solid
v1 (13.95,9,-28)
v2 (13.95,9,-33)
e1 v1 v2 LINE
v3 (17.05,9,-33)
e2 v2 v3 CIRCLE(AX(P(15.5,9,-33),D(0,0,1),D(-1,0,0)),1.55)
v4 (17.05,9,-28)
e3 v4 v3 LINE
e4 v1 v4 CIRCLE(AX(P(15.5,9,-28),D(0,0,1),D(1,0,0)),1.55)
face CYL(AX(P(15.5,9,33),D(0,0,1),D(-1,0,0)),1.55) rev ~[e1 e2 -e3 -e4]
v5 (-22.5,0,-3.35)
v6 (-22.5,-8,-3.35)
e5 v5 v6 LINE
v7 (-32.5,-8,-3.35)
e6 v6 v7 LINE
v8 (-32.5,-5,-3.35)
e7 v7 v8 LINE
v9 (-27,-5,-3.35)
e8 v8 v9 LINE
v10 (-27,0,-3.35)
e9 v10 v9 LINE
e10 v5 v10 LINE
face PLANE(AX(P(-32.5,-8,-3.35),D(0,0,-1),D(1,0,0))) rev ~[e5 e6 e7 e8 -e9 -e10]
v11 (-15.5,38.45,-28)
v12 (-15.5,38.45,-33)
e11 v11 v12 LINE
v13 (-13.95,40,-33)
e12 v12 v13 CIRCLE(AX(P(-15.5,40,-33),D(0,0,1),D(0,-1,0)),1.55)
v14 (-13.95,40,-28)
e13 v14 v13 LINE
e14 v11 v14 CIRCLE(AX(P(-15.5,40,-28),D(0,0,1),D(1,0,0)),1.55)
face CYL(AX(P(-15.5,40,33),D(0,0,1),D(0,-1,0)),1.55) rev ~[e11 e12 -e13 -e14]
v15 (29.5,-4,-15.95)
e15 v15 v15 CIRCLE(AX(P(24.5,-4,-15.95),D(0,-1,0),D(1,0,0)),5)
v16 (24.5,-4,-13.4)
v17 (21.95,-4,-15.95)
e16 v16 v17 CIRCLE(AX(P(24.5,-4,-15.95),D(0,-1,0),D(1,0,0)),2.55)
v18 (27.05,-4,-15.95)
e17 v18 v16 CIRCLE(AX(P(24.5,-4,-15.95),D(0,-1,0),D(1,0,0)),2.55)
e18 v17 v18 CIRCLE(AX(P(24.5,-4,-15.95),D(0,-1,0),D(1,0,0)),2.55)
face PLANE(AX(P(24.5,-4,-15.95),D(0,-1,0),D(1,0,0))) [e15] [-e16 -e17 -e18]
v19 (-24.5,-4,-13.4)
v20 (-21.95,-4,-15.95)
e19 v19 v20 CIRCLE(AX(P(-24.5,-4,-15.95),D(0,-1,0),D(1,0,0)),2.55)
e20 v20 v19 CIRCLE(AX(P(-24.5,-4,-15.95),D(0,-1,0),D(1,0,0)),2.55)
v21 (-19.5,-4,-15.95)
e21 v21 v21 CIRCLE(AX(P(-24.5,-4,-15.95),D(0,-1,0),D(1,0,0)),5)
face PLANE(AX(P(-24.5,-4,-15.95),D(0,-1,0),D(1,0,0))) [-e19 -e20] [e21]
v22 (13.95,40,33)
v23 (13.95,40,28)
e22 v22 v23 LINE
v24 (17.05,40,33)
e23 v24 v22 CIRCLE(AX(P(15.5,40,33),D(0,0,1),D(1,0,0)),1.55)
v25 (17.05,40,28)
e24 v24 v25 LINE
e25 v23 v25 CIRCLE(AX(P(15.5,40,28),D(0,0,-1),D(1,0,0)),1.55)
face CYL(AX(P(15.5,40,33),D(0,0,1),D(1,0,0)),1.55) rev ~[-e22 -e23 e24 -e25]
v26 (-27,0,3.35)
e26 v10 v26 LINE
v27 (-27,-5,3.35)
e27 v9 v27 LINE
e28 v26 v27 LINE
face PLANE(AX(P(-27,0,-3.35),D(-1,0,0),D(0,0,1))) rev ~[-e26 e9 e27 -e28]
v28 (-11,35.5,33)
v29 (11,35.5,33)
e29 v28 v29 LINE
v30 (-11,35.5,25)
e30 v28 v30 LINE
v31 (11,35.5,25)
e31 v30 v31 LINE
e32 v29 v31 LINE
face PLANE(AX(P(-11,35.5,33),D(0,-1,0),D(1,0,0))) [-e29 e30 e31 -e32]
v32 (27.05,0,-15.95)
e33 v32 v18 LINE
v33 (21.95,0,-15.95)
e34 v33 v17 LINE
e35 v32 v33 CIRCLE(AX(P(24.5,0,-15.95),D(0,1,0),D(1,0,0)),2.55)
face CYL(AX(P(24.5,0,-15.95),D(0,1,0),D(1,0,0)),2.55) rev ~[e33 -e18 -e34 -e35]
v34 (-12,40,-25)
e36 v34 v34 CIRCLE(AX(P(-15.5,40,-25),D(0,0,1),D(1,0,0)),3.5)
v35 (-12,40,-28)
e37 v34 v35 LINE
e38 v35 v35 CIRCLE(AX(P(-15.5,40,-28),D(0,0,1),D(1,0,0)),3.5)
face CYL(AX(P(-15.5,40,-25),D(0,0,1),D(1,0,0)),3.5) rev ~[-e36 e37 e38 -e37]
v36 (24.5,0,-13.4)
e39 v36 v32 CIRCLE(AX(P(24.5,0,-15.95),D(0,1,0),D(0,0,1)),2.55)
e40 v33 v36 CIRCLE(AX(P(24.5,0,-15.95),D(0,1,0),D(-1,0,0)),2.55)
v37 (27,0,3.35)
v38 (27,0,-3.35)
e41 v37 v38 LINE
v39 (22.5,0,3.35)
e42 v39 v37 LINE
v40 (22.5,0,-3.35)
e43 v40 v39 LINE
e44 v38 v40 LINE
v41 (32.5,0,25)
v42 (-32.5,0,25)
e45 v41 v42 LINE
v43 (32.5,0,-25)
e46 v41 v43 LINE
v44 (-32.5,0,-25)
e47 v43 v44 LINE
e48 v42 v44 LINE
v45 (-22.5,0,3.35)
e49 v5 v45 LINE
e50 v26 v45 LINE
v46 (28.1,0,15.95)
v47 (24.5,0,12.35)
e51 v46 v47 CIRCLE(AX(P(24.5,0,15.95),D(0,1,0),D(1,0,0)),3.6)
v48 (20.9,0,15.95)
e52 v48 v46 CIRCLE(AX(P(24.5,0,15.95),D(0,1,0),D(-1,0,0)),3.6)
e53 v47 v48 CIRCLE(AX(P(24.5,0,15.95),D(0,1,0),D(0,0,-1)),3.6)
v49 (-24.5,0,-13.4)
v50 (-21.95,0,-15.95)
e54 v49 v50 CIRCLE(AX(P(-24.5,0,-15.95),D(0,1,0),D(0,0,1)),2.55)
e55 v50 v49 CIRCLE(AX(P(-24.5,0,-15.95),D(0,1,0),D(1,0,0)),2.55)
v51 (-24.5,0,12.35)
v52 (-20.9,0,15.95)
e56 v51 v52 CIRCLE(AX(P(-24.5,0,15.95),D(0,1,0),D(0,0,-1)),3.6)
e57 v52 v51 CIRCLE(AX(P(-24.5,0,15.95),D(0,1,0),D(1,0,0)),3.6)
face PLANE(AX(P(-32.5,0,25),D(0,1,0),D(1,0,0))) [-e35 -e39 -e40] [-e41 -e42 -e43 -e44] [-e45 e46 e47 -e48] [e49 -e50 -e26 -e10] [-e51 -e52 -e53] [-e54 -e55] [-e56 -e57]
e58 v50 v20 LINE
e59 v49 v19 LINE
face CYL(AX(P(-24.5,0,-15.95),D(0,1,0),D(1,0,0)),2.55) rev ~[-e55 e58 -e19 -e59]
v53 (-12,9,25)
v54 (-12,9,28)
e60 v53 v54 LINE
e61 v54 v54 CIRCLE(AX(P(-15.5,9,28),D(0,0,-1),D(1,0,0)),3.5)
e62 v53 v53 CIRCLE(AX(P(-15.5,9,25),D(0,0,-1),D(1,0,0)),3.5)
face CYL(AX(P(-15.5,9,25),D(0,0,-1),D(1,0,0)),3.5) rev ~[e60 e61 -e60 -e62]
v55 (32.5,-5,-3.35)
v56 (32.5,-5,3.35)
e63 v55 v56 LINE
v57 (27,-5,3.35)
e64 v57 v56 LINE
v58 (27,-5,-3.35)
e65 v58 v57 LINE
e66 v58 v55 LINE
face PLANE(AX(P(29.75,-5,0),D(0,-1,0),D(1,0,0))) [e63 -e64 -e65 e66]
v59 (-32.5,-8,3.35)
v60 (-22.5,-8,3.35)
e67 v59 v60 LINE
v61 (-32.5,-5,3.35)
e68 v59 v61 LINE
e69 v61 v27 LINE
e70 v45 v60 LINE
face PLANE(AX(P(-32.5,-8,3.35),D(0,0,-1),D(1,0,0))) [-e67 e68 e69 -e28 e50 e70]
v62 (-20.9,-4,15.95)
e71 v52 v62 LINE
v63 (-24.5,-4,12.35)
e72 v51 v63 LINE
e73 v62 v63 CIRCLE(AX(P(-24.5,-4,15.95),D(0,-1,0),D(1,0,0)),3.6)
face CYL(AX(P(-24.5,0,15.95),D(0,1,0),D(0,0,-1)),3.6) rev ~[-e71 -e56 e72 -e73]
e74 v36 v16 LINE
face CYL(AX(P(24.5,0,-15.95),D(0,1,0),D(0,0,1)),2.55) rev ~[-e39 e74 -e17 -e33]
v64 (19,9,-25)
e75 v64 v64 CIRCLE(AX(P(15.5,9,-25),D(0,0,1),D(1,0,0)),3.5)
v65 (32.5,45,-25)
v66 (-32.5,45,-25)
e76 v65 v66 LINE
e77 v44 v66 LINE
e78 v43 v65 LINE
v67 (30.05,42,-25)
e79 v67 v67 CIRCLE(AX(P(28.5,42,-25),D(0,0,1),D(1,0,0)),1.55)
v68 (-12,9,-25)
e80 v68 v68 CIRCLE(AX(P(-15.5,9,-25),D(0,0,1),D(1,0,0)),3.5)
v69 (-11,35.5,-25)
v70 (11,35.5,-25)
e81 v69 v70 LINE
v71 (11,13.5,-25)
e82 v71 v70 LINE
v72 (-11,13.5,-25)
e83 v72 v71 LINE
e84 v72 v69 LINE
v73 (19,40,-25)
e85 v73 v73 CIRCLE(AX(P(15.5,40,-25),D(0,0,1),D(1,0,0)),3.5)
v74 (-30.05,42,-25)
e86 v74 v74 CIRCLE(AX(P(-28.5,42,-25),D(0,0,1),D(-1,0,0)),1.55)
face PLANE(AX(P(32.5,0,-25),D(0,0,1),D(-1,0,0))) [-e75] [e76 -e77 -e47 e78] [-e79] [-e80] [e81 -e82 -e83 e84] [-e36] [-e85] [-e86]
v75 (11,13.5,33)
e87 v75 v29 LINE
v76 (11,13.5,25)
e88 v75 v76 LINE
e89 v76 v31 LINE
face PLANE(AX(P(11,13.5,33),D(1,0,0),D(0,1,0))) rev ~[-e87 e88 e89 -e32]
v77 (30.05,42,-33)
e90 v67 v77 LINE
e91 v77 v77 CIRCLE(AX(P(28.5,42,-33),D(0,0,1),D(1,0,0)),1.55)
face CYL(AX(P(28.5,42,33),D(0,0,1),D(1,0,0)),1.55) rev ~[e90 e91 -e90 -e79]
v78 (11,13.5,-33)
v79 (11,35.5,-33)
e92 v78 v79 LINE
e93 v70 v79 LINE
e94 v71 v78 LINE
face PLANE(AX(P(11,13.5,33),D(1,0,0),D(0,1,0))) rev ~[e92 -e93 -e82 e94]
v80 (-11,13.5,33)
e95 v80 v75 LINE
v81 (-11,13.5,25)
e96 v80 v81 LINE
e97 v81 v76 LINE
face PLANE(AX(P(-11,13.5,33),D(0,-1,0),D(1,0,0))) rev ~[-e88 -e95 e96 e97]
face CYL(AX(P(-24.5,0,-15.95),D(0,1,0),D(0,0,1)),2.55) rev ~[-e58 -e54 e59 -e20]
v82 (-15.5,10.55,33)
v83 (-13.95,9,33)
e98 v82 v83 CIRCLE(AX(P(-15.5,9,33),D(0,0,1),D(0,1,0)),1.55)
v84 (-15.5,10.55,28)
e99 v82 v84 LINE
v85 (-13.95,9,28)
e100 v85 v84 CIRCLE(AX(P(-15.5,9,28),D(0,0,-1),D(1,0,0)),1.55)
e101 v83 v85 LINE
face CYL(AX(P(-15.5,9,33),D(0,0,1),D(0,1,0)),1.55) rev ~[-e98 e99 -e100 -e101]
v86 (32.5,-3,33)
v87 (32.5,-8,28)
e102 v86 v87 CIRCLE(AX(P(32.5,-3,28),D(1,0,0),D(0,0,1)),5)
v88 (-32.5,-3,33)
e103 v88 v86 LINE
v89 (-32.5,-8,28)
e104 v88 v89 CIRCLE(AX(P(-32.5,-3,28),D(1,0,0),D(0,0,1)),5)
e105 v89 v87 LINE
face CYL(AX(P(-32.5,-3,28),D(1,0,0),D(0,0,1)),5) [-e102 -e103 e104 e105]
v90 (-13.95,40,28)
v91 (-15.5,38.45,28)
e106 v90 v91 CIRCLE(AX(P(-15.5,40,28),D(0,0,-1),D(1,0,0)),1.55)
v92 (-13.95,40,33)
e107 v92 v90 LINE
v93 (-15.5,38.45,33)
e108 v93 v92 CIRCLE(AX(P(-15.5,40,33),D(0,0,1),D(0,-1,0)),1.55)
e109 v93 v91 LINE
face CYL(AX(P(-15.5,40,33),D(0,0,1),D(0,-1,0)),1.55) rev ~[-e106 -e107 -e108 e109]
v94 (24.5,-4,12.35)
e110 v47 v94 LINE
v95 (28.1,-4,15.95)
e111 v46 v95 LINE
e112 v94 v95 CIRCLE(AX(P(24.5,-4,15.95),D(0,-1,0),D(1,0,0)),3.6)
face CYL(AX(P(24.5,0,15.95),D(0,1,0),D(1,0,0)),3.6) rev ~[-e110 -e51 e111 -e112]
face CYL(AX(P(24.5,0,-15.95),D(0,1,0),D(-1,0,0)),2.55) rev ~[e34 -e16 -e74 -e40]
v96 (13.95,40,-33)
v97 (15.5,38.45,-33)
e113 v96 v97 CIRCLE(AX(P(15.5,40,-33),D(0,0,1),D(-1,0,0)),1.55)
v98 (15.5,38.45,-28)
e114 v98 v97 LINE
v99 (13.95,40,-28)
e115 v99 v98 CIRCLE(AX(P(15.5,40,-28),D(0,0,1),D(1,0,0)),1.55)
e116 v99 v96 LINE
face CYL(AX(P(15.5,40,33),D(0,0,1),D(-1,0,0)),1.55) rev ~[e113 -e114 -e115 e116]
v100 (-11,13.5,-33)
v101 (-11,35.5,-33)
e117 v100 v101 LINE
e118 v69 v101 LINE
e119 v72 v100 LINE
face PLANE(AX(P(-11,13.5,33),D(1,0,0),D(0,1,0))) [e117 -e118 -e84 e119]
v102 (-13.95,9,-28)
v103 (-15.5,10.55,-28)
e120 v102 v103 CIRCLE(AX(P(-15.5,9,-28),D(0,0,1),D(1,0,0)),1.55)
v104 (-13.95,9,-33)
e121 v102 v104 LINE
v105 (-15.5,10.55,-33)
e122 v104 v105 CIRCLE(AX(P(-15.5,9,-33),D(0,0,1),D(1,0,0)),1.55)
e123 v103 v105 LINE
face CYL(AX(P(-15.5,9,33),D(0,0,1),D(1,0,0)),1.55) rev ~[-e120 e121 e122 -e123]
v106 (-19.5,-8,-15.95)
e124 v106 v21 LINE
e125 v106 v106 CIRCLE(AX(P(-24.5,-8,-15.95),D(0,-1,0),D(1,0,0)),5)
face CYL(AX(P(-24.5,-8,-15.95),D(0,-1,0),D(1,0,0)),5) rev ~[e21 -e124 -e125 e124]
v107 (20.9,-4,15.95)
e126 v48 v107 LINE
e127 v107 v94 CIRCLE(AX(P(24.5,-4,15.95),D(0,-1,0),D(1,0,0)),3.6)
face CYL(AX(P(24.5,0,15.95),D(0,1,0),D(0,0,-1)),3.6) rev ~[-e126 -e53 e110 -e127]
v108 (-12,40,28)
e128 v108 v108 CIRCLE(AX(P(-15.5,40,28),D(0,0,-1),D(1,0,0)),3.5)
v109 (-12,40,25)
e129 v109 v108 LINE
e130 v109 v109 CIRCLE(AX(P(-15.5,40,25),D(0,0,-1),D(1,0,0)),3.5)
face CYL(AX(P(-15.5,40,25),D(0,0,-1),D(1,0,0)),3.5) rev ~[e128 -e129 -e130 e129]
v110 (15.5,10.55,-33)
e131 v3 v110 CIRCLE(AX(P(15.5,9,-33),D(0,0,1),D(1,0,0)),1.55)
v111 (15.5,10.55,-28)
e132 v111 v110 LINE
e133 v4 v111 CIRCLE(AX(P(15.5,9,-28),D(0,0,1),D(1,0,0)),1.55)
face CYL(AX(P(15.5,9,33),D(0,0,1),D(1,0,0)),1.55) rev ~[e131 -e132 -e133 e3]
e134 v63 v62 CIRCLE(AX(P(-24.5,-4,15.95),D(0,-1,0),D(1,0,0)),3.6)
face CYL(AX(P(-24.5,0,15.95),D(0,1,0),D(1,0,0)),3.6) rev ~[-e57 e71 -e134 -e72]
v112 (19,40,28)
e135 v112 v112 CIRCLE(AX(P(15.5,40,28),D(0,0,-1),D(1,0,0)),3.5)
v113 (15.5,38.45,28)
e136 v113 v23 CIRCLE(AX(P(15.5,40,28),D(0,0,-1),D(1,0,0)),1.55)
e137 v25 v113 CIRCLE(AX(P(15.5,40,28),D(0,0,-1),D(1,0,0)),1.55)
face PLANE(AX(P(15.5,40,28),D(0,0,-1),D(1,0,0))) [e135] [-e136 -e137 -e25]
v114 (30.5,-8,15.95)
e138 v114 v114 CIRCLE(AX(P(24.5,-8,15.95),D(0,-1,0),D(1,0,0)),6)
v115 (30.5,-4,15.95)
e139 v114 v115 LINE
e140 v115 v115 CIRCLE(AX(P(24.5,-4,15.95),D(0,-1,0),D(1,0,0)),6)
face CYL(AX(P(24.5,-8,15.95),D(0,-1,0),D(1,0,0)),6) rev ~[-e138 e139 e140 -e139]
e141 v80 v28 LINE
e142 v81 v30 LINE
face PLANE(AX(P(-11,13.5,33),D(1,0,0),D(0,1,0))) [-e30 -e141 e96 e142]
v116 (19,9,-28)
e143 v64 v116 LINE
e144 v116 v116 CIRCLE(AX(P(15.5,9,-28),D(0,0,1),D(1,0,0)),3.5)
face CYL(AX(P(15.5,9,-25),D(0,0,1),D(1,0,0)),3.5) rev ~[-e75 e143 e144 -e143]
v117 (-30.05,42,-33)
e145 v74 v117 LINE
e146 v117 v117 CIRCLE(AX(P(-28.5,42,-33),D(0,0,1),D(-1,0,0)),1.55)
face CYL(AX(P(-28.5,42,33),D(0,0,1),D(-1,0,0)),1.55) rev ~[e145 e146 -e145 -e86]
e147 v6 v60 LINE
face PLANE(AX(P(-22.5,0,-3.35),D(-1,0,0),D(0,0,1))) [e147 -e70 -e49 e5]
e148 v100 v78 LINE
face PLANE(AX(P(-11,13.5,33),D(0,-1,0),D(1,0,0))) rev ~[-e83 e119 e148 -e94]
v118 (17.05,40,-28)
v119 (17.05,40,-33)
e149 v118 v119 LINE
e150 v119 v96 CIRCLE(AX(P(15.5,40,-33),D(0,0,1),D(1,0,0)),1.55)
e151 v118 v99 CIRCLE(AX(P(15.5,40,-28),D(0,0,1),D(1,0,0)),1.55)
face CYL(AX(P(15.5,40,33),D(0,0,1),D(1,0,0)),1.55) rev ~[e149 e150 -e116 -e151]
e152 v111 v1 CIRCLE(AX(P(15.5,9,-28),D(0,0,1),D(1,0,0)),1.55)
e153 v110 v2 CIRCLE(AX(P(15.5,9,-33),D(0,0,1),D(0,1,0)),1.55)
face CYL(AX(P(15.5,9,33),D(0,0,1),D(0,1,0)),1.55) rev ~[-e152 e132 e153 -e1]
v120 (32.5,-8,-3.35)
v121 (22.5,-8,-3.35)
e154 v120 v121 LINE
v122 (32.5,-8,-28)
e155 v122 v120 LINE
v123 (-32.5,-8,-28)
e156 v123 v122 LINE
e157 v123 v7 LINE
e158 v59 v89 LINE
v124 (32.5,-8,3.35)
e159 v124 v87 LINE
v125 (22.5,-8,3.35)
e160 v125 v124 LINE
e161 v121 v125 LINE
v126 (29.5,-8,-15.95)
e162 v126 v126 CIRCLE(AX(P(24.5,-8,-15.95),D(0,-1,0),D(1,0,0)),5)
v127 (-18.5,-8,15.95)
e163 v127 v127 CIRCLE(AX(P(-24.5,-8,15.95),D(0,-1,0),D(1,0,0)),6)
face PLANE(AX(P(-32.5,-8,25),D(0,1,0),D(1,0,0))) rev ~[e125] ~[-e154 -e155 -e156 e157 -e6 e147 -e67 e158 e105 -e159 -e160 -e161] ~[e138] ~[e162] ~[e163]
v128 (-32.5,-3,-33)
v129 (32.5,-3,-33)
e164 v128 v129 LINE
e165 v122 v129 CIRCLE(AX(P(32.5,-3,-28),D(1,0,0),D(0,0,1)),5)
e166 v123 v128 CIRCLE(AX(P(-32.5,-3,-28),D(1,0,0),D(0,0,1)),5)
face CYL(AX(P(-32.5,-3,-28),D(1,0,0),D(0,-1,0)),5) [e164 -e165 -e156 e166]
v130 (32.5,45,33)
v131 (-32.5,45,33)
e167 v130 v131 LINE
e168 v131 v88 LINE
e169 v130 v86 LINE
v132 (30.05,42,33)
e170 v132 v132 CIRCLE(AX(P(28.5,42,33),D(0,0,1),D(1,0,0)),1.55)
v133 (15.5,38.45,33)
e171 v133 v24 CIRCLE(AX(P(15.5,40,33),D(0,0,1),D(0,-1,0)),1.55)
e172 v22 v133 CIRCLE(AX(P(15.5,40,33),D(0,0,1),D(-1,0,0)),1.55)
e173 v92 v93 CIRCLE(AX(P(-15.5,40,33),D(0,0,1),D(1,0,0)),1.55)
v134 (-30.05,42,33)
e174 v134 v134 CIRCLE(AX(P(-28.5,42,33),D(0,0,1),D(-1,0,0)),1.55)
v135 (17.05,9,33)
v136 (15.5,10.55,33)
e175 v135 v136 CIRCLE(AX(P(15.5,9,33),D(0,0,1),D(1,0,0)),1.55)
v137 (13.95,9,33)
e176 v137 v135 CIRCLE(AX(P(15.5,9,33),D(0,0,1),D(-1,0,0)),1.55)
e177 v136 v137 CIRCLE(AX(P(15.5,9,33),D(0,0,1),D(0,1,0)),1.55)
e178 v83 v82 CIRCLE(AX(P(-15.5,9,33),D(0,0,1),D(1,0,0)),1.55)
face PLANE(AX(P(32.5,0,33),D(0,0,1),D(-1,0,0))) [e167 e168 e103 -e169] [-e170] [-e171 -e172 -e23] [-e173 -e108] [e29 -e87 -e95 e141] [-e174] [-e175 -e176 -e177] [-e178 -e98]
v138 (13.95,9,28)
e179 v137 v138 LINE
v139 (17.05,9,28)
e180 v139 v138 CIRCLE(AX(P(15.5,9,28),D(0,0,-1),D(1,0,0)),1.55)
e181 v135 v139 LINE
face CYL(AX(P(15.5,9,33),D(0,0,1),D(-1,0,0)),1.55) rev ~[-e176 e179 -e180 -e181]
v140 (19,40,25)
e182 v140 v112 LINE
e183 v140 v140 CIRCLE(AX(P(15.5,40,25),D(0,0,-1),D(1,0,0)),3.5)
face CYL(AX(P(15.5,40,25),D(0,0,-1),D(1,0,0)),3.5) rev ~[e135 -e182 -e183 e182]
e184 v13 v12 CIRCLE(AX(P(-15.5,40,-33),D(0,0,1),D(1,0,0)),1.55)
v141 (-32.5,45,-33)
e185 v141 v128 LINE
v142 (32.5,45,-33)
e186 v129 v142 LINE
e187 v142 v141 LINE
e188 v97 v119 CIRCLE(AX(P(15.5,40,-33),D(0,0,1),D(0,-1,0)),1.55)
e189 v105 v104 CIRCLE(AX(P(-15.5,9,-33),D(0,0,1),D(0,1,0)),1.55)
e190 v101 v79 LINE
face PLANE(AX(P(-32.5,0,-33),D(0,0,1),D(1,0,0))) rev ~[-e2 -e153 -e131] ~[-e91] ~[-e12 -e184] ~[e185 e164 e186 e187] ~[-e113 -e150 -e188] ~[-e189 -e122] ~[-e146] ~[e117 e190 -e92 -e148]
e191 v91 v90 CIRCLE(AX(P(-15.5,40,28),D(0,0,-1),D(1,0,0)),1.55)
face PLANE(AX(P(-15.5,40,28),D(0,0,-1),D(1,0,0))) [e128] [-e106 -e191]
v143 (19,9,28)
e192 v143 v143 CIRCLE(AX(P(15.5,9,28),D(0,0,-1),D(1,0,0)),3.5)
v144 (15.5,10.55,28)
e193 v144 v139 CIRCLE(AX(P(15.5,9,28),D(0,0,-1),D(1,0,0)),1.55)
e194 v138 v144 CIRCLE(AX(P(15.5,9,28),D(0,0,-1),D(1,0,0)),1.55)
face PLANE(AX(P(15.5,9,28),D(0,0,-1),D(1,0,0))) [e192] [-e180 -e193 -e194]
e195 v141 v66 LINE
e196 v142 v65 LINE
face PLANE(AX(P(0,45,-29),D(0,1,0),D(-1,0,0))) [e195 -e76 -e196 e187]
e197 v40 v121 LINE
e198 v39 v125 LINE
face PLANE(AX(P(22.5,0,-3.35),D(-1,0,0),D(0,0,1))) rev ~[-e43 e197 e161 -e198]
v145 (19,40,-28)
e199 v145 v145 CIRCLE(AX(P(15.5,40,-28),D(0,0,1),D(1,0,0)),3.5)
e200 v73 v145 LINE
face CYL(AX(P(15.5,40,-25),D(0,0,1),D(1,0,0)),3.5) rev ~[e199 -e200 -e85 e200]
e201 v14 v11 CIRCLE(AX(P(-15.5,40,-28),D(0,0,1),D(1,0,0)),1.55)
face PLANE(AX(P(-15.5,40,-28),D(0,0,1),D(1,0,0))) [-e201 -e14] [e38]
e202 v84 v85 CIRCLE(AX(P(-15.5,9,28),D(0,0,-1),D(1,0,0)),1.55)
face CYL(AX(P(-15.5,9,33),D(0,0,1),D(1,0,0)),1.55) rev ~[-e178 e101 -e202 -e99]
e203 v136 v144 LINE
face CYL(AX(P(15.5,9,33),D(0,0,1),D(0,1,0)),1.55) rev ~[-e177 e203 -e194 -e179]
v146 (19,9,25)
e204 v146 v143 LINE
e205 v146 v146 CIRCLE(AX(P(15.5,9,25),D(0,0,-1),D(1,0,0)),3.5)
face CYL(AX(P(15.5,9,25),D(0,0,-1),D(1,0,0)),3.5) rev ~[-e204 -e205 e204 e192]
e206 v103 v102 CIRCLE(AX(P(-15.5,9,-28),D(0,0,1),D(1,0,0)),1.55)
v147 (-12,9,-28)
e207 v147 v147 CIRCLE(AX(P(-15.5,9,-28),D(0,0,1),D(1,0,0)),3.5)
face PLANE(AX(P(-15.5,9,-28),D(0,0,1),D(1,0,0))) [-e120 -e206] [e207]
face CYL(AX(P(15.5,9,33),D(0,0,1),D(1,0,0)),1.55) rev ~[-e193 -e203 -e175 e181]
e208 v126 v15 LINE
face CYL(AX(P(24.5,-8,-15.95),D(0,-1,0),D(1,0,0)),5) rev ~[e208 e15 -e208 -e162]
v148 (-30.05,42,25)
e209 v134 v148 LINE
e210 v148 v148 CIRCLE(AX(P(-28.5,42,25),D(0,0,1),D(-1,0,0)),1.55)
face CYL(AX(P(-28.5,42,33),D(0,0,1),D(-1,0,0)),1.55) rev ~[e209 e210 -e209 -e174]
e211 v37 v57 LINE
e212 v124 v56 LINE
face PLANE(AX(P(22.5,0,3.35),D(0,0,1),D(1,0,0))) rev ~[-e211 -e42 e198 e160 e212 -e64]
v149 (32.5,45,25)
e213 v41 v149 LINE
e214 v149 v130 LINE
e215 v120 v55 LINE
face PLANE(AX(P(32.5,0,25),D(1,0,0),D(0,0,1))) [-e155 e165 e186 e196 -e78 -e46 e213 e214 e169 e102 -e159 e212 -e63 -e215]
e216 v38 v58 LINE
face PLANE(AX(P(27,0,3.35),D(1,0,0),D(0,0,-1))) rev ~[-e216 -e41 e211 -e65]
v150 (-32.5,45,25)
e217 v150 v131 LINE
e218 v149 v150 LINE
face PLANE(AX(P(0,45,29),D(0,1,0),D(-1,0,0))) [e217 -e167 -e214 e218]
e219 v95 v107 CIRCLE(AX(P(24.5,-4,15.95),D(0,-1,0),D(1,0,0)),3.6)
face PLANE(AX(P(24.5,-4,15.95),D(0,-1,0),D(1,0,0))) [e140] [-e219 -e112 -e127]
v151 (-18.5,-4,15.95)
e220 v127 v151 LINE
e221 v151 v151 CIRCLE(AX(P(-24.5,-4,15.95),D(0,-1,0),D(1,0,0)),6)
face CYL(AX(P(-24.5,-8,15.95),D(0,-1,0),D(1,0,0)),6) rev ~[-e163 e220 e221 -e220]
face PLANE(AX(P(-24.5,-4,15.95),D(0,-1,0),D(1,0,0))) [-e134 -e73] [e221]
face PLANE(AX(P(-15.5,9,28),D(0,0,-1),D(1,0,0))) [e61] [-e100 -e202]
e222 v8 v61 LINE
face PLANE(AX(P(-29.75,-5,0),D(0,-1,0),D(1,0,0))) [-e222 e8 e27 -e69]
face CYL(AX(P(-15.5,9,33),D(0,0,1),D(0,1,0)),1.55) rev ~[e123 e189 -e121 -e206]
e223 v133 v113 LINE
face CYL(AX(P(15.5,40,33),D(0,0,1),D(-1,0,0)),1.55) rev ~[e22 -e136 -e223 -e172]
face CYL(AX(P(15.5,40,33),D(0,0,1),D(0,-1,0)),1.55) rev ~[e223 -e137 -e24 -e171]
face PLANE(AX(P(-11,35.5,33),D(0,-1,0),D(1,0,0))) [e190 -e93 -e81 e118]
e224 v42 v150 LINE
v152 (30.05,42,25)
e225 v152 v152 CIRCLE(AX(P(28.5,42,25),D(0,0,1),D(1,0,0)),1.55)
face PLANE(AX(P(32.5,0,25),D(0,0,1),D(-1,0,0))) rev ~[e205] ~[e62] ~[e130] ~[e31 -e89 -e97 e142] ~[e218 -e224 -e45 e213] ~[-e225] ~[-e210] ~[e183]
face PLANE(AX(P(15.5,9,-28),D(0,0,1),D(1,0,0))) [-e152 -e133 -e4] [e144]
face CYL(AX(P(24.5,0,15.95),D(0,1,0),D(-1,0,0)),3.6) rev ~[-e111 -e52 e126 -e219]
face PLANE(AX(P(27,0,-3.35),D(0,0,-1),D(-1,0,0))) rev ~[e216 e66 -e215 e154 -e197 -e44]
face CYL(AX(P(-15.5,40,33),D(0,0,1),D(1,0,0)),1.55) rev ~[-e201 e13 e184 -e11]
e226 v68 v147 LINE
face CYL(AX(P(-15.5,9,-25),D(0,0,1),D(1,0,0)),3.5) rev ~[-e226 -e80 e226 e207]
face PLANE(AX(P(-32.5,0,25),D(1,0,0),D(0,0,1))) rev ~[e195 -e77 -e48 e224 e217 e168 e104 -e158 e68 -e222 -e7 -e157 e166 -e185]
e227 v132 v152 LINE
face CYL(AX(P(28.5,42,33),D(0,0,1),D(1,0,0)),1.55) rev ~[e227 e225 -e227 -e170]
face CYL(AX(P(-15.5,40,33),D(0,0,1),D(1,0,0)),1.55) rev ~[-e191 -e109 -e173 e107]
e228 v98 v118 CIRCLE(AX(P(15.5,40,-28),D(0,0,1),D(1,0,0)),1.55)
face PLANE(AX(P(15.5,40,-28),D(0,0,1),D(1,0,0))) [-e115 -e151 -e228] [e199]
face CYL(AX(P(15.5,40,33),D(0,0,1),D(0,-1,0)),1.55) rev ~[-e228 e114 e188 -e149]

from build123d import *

# Parameters (mm, degrees)
F0_W      = 65
F0_H      = 50
F0_W_2    = 45
F0_H_2    = 6.7
F1_DEPTH  = 8
F2_R      = 6
F2_R_2    = 3.6
F2_R_3    = 5
F2_R_4    = 2.55
F3_DEPTH  = 4
F4_W      = 5.5
F4_H      = 6.7
F5_DEPTH  = 3
F6_DEPTH  = 8
F7_DEPTH  = 8
F8_W      = 65
F8_H      = 8
F9_DEPTH  = 45
F10_W     = 22
F10_H     = 22
F10_R     = 1.55
F11_DEPTH = 100
F12_R     = 3.5
F12_R_2   = 1.55
F13_DEPTH = 3
F14_R     = 3.5
F14_R_2   = 1.55
F15_DEPTH = 3
F16_R     = 5


with BuildPart() as f1:
    # F0 (on Front) → F1 (new body)
    with BuildSketch(Plane.XZ):
        Rectangle(F0_W, F0_H)
        with BuildLine():
            ThreePointArc((-24.5, 12.35), (-27.0455844123, 18.4955844123), (-20.9, 15.95))
            Line((-20.9, 15.95), (20.9, 15.95))
            ThreePointArc((20.9, 15.95), (24.5, 19.55), (28.1, 15.95))
            ThreePointArc((28.1, 15.95), (27.0455844123, 13.4044155877), (24.5, 12.35))
            Line((24.5, 12.35), (24.5, 3.35))
            Line((24.5, 3.35), (27, 3.35))
            Line((27, 3.35), (27, -3.35))
            Line((27, -3.35), (24.5, -3.35))
            Line((24.5, -3.35), (24.5, -13.4))
            ThreePointArc((24.5, -13.4), (26.303122292, -14.146877708), (27.05, -15.95))
            ThreePointArc((27.05, -15.95), (24.5, -18.5), (21.95, -15.95))
            Line((21.95, -15.95), (-21.95, -15.95))
            ThreePointArc((-21.95, -15.95), (-26.303122292, -17.753122292), (-24.5, -13.4))
            Line((-24.5, -13.4), (-24.5, -3.35))
            Line((-24.5, -3.35), (-27, -3.35))
            Line((-27, -3.35), (-27, 3.35))
            Line((-27, 3.35), (-24.5, 3.35))
            Line((-24.5, 3.35), (-24.5, 12.35))
        make_face(mode=Mode.SUBTRACT)
        with BuildLine():
            Line((20.9, 15.95), (-20.9, 15.95))
            ThreePointArc((-20.9, 15.95), (-21.9544155877, 13.4044155877), (-24.5, 12.35))
            Line((-24.5, 12.35), (-24.5, 3.35))
            Line((-24.5, 3.35), (-22.5, 3.35))
            Line((-22.5, 3.35), (22.5, 3.35))
            Line((22.5, 3.35), (24.5, 3.35))
            Line((24.5, 3.35), (24.5, 12.35))
            ThreePointArc((24.5, 12.35), (21.9544155877, 13.4044155877), (20.9, 15.95))
        make_face()
        with BuildLine():
            Line((-22.5, -3.35), (-24.5, -3.35))
            Line((-24.5, -3.35), (-24.5, -13.4))
            ThreePointArc((-24.5, -13.4), (-22.696877708, -14.146877708), (-21.95, -15.95))
            Line((-21.95, -15.95), (21.95, -15.95))
            ThreePointArc((21.95, -15.95), (22.696877708, -14.146877708), (24.5, -13.4))
            Line((24.5, -13.4), (24.5, -3.35))
            Line((24.5, -3.35), (22.5, -3.35))
            Line((22.5, -3.35), (-22.5, -3.35))
        make_face()
        Rectangle(F0_W_2, F0_H_2)
    extrude(amount=F1_DEPTH)

    # F2 (on face) → F3 (cut)
    with BuildSketch(Plane.XZ.offset(8)):
        with Locations((24.5, 15.95)):
            Circle(F2_R)
        with Locations((24.5, 15.95)):
            Circle(F2_R_2, mode=Mode.SUBTRACT)
        with Locations((-24.5, 15.95)):
            Circle(F2_R)
        with Locations((-24.5, 15.95)):
            Circle(F2_R_2, mode=Mode.SUBTRACT)
        with Locations((-24.5, -15.95)):
            Circle(F2_R_3)
        with Locations((-24.5, -15.95)):
            Circle(F2_R_4, mode=Mode.SUBTRACT)
        with Locations((24.5, -15.95)):
            Circle(F2_R_3)
        with Locations((24.5, -15.95)):
            Circle(F2_R_4, mode=Mode.SUBTRACT)
    extrude(amount=-F3_DEPTH, mode=Mode.SUBTRACT)

    # F4 (on face) → F5 (cut)
    with BuildSketch(Plane.XZ.offset(8)):
        with Locations((29.75, 0)):
            Rectangle(F4_W, F4_H)
        with Locations((-29.75, 0)):
            Rectangle(F4_W, F4_H)
    extrude(amount=-F5_DEPTH, mode=Mode.SUBTRACT)

    # F6 (add): a face of the model
    f6_faces = [f1.faces().sort_by_distance(p)[0] for p in [
        (0, -4, -25),
    ]]
    extrude(f6_faces, amount=F6_DEPTH)

    # F7 (add): a face of the model
    f7_faces = [f1.faces().sort_by_distance(p)[0] for p in [
        (0, -4, 25),
    ]]
    extrude(f7_faces, amount=F7_DEPTH)

    # F8 (on face) → F9 (join)
    with BuildSketch(Plane(origin=(0, 0, 0), x_dir=(-1, 0, 0), z_dir=(0, 1, 0))):
        with Locations((0, 29)):
            Rectangle(F8_W, F8_H)
        with Locations((0, -29)):
            Rectangle(F8_W, F8_H)
    extrude(amount=F9_DEPTH)

    # F10 (on face) → F11 (cut)
    with BuildSketch(Plane.XY.offset(33)):
        with BuildLine():
            Line((15.5, 9), (13.95, 9))
            ThreePointArc((13.95, 9), (15.5, 7.45), (17.05, 9))
            ThreePointArc((17.05, 9), (16.5960155108, 10.0960155108), (15.5, 10.55))
            Line((15.5, 10.55), (15.5, 9))
        make_face()
        with BuildLine():
            ThreePointArc((15.5, 10.55), (14.4039844892, 10.0960155108), (13.95, 9))
            Line((13.95, 9), (15.5, 9))
            Line((15.5, 9), (15.5, 10.55))
        make_face()
        with BuildLine():
            ThreePointArc((-15.5, 10.55), (-16.5960155108, 7.9039844892), (-13.95, 9))
            Line((-13.95, 9), (-15.5, 9))
            Line((-15.5, 9), (-15.5, 10.55))
        make_face()
        with BuildLine():
            Line((-15.5, 9), (-13.95, 9))
            ThreePointArc((-13.95, 9), (-14.4039844892, 10.0960155108), (-15.5, 10.55))
            Line((-15.5, 10.55), (-15.5, 9))
        make_face()
        with BuildLine():
            Line((15.5, 40), (15.5, 38.45))
            ThreePointArc((15.5, 38.45), (16.5960155108, 38.9039844892), (17.05, 40))
            ThreePointArc((17.05, 40), (15.5, 41.55), (13.95, 40))
            Line((13.95, 40), (15.5, 40))
        make_face()
        with BuildLine():
            ThreePointArc((13.95, 40), (14.4039844892, 38.9039844892), (15.5, 38.45))
            Line((15.5, 38.45), (15.5, 40))
            Line((15.5, 40), (13.95, 40))
        make_face()
        with BuildLine():
            ThreePointArc((-13.95, 40), (-16.5960155108, 41.0960155108), (-15.5, 38.45))
            Line((-15.5, 38.45), (-15.5, 40))
            Line((-15.5, 40), (-13.95, 40))
        make_face()
        with BuildLine():
            Line((-15.5, 40), (-15.5, 38.45))
            ThreePointArc((-15.5, 38.45), (-14.4039844892, 38.9039844892), (-13.95, 40))
            Line((-13.95, 40), (-15.5, 40))
        make_face()
        with Locations((0, 24.5)):
            Rectangle(F10_W, F10_H)
        with Locations((28.5, 42)):
            Circle(F10_R)
        with BuildLine():
            ThreePointArc((-26.95, 42), (-28.5, 43.55), (-30.05, 42))
            ThreePointArc((-30.05, 42), (-28.5, 40.45), (-26.95, 42))
        make_face()
    extrude(amount=-F11_DEPTH, mode=Mode.SUBTRACT)

    # F12 (on face) → F13 (cut)
    with BuildSketch(Plane(origin=(0, 0, 25), x_dir=(1, 0, 0), z_dir=(0, 0, -1))):
        with Locations((-15.5, -40)):
            Circle(F12_R)
        with Locations((-15.5, -40)):
            Circle(F12_R_2, mode=Mode.SUBTRACT)
        with Locations((-15.5, -9)):
            Circle(F12_R)
        with Locations((-15.5, -9)):
            Circle(F12_R_2, mode=Mode.SUBTRACT)
        with Locations((15.5, -9)):
            Circle(F12_R)
        with Locations((15.5, -9)):
            Circle(F12_R_2, mode=Mode.SUBTRACT)
        with Locations((15.5, -40)):
            Circle(F12_R)
        with Locations((15.5, -40)):
            Circle(F12_R_2, mode=Mode.SUBTRACT)
    extrude(amount=-F13_DEPTH, mode=Mode.SUBTRACT)

    # F14 (on face) → F15 (cut)
    with BuildSketch(Plane.XY.offset(-25)):
        with Locations((15.5, 9)):
            Circle(F14_R)
        with Locations((15.5, 9)):
            Circle(F14_R_2, mode=Mode.SUBTRACT)
        with Locations((15.5, 40)):
            Circle(F14_R)
        with Locations((15.5, 40)):
            Circle(F14_R_2, mode=Mode.SUBTRACT)
        with Locations((-15.5, 40)):
            Circle(F14_R)
        with Locations((-15.5, 40)):
            Circle(F14_R_2, mode=Mode.SUBTRACT)
        with Locations((-15.5, 9)):
            Circle(F14_R)
        with Locations((-15.5, 9)):
            Circle(F14_R_2, mode=Mode.SUBTRACT)
    extrude(amount=-F15_DEPTH, mode=Mode.SUBTRACT)

    # F16
    f16_edges = [f1.edges().sort_by_distance(p)[0] for p in [
        (0, -8, -33),
        (0, -8, 33),
    ]]
    fillet(f16_edges, radius=F16_R)


solid = f1.part
